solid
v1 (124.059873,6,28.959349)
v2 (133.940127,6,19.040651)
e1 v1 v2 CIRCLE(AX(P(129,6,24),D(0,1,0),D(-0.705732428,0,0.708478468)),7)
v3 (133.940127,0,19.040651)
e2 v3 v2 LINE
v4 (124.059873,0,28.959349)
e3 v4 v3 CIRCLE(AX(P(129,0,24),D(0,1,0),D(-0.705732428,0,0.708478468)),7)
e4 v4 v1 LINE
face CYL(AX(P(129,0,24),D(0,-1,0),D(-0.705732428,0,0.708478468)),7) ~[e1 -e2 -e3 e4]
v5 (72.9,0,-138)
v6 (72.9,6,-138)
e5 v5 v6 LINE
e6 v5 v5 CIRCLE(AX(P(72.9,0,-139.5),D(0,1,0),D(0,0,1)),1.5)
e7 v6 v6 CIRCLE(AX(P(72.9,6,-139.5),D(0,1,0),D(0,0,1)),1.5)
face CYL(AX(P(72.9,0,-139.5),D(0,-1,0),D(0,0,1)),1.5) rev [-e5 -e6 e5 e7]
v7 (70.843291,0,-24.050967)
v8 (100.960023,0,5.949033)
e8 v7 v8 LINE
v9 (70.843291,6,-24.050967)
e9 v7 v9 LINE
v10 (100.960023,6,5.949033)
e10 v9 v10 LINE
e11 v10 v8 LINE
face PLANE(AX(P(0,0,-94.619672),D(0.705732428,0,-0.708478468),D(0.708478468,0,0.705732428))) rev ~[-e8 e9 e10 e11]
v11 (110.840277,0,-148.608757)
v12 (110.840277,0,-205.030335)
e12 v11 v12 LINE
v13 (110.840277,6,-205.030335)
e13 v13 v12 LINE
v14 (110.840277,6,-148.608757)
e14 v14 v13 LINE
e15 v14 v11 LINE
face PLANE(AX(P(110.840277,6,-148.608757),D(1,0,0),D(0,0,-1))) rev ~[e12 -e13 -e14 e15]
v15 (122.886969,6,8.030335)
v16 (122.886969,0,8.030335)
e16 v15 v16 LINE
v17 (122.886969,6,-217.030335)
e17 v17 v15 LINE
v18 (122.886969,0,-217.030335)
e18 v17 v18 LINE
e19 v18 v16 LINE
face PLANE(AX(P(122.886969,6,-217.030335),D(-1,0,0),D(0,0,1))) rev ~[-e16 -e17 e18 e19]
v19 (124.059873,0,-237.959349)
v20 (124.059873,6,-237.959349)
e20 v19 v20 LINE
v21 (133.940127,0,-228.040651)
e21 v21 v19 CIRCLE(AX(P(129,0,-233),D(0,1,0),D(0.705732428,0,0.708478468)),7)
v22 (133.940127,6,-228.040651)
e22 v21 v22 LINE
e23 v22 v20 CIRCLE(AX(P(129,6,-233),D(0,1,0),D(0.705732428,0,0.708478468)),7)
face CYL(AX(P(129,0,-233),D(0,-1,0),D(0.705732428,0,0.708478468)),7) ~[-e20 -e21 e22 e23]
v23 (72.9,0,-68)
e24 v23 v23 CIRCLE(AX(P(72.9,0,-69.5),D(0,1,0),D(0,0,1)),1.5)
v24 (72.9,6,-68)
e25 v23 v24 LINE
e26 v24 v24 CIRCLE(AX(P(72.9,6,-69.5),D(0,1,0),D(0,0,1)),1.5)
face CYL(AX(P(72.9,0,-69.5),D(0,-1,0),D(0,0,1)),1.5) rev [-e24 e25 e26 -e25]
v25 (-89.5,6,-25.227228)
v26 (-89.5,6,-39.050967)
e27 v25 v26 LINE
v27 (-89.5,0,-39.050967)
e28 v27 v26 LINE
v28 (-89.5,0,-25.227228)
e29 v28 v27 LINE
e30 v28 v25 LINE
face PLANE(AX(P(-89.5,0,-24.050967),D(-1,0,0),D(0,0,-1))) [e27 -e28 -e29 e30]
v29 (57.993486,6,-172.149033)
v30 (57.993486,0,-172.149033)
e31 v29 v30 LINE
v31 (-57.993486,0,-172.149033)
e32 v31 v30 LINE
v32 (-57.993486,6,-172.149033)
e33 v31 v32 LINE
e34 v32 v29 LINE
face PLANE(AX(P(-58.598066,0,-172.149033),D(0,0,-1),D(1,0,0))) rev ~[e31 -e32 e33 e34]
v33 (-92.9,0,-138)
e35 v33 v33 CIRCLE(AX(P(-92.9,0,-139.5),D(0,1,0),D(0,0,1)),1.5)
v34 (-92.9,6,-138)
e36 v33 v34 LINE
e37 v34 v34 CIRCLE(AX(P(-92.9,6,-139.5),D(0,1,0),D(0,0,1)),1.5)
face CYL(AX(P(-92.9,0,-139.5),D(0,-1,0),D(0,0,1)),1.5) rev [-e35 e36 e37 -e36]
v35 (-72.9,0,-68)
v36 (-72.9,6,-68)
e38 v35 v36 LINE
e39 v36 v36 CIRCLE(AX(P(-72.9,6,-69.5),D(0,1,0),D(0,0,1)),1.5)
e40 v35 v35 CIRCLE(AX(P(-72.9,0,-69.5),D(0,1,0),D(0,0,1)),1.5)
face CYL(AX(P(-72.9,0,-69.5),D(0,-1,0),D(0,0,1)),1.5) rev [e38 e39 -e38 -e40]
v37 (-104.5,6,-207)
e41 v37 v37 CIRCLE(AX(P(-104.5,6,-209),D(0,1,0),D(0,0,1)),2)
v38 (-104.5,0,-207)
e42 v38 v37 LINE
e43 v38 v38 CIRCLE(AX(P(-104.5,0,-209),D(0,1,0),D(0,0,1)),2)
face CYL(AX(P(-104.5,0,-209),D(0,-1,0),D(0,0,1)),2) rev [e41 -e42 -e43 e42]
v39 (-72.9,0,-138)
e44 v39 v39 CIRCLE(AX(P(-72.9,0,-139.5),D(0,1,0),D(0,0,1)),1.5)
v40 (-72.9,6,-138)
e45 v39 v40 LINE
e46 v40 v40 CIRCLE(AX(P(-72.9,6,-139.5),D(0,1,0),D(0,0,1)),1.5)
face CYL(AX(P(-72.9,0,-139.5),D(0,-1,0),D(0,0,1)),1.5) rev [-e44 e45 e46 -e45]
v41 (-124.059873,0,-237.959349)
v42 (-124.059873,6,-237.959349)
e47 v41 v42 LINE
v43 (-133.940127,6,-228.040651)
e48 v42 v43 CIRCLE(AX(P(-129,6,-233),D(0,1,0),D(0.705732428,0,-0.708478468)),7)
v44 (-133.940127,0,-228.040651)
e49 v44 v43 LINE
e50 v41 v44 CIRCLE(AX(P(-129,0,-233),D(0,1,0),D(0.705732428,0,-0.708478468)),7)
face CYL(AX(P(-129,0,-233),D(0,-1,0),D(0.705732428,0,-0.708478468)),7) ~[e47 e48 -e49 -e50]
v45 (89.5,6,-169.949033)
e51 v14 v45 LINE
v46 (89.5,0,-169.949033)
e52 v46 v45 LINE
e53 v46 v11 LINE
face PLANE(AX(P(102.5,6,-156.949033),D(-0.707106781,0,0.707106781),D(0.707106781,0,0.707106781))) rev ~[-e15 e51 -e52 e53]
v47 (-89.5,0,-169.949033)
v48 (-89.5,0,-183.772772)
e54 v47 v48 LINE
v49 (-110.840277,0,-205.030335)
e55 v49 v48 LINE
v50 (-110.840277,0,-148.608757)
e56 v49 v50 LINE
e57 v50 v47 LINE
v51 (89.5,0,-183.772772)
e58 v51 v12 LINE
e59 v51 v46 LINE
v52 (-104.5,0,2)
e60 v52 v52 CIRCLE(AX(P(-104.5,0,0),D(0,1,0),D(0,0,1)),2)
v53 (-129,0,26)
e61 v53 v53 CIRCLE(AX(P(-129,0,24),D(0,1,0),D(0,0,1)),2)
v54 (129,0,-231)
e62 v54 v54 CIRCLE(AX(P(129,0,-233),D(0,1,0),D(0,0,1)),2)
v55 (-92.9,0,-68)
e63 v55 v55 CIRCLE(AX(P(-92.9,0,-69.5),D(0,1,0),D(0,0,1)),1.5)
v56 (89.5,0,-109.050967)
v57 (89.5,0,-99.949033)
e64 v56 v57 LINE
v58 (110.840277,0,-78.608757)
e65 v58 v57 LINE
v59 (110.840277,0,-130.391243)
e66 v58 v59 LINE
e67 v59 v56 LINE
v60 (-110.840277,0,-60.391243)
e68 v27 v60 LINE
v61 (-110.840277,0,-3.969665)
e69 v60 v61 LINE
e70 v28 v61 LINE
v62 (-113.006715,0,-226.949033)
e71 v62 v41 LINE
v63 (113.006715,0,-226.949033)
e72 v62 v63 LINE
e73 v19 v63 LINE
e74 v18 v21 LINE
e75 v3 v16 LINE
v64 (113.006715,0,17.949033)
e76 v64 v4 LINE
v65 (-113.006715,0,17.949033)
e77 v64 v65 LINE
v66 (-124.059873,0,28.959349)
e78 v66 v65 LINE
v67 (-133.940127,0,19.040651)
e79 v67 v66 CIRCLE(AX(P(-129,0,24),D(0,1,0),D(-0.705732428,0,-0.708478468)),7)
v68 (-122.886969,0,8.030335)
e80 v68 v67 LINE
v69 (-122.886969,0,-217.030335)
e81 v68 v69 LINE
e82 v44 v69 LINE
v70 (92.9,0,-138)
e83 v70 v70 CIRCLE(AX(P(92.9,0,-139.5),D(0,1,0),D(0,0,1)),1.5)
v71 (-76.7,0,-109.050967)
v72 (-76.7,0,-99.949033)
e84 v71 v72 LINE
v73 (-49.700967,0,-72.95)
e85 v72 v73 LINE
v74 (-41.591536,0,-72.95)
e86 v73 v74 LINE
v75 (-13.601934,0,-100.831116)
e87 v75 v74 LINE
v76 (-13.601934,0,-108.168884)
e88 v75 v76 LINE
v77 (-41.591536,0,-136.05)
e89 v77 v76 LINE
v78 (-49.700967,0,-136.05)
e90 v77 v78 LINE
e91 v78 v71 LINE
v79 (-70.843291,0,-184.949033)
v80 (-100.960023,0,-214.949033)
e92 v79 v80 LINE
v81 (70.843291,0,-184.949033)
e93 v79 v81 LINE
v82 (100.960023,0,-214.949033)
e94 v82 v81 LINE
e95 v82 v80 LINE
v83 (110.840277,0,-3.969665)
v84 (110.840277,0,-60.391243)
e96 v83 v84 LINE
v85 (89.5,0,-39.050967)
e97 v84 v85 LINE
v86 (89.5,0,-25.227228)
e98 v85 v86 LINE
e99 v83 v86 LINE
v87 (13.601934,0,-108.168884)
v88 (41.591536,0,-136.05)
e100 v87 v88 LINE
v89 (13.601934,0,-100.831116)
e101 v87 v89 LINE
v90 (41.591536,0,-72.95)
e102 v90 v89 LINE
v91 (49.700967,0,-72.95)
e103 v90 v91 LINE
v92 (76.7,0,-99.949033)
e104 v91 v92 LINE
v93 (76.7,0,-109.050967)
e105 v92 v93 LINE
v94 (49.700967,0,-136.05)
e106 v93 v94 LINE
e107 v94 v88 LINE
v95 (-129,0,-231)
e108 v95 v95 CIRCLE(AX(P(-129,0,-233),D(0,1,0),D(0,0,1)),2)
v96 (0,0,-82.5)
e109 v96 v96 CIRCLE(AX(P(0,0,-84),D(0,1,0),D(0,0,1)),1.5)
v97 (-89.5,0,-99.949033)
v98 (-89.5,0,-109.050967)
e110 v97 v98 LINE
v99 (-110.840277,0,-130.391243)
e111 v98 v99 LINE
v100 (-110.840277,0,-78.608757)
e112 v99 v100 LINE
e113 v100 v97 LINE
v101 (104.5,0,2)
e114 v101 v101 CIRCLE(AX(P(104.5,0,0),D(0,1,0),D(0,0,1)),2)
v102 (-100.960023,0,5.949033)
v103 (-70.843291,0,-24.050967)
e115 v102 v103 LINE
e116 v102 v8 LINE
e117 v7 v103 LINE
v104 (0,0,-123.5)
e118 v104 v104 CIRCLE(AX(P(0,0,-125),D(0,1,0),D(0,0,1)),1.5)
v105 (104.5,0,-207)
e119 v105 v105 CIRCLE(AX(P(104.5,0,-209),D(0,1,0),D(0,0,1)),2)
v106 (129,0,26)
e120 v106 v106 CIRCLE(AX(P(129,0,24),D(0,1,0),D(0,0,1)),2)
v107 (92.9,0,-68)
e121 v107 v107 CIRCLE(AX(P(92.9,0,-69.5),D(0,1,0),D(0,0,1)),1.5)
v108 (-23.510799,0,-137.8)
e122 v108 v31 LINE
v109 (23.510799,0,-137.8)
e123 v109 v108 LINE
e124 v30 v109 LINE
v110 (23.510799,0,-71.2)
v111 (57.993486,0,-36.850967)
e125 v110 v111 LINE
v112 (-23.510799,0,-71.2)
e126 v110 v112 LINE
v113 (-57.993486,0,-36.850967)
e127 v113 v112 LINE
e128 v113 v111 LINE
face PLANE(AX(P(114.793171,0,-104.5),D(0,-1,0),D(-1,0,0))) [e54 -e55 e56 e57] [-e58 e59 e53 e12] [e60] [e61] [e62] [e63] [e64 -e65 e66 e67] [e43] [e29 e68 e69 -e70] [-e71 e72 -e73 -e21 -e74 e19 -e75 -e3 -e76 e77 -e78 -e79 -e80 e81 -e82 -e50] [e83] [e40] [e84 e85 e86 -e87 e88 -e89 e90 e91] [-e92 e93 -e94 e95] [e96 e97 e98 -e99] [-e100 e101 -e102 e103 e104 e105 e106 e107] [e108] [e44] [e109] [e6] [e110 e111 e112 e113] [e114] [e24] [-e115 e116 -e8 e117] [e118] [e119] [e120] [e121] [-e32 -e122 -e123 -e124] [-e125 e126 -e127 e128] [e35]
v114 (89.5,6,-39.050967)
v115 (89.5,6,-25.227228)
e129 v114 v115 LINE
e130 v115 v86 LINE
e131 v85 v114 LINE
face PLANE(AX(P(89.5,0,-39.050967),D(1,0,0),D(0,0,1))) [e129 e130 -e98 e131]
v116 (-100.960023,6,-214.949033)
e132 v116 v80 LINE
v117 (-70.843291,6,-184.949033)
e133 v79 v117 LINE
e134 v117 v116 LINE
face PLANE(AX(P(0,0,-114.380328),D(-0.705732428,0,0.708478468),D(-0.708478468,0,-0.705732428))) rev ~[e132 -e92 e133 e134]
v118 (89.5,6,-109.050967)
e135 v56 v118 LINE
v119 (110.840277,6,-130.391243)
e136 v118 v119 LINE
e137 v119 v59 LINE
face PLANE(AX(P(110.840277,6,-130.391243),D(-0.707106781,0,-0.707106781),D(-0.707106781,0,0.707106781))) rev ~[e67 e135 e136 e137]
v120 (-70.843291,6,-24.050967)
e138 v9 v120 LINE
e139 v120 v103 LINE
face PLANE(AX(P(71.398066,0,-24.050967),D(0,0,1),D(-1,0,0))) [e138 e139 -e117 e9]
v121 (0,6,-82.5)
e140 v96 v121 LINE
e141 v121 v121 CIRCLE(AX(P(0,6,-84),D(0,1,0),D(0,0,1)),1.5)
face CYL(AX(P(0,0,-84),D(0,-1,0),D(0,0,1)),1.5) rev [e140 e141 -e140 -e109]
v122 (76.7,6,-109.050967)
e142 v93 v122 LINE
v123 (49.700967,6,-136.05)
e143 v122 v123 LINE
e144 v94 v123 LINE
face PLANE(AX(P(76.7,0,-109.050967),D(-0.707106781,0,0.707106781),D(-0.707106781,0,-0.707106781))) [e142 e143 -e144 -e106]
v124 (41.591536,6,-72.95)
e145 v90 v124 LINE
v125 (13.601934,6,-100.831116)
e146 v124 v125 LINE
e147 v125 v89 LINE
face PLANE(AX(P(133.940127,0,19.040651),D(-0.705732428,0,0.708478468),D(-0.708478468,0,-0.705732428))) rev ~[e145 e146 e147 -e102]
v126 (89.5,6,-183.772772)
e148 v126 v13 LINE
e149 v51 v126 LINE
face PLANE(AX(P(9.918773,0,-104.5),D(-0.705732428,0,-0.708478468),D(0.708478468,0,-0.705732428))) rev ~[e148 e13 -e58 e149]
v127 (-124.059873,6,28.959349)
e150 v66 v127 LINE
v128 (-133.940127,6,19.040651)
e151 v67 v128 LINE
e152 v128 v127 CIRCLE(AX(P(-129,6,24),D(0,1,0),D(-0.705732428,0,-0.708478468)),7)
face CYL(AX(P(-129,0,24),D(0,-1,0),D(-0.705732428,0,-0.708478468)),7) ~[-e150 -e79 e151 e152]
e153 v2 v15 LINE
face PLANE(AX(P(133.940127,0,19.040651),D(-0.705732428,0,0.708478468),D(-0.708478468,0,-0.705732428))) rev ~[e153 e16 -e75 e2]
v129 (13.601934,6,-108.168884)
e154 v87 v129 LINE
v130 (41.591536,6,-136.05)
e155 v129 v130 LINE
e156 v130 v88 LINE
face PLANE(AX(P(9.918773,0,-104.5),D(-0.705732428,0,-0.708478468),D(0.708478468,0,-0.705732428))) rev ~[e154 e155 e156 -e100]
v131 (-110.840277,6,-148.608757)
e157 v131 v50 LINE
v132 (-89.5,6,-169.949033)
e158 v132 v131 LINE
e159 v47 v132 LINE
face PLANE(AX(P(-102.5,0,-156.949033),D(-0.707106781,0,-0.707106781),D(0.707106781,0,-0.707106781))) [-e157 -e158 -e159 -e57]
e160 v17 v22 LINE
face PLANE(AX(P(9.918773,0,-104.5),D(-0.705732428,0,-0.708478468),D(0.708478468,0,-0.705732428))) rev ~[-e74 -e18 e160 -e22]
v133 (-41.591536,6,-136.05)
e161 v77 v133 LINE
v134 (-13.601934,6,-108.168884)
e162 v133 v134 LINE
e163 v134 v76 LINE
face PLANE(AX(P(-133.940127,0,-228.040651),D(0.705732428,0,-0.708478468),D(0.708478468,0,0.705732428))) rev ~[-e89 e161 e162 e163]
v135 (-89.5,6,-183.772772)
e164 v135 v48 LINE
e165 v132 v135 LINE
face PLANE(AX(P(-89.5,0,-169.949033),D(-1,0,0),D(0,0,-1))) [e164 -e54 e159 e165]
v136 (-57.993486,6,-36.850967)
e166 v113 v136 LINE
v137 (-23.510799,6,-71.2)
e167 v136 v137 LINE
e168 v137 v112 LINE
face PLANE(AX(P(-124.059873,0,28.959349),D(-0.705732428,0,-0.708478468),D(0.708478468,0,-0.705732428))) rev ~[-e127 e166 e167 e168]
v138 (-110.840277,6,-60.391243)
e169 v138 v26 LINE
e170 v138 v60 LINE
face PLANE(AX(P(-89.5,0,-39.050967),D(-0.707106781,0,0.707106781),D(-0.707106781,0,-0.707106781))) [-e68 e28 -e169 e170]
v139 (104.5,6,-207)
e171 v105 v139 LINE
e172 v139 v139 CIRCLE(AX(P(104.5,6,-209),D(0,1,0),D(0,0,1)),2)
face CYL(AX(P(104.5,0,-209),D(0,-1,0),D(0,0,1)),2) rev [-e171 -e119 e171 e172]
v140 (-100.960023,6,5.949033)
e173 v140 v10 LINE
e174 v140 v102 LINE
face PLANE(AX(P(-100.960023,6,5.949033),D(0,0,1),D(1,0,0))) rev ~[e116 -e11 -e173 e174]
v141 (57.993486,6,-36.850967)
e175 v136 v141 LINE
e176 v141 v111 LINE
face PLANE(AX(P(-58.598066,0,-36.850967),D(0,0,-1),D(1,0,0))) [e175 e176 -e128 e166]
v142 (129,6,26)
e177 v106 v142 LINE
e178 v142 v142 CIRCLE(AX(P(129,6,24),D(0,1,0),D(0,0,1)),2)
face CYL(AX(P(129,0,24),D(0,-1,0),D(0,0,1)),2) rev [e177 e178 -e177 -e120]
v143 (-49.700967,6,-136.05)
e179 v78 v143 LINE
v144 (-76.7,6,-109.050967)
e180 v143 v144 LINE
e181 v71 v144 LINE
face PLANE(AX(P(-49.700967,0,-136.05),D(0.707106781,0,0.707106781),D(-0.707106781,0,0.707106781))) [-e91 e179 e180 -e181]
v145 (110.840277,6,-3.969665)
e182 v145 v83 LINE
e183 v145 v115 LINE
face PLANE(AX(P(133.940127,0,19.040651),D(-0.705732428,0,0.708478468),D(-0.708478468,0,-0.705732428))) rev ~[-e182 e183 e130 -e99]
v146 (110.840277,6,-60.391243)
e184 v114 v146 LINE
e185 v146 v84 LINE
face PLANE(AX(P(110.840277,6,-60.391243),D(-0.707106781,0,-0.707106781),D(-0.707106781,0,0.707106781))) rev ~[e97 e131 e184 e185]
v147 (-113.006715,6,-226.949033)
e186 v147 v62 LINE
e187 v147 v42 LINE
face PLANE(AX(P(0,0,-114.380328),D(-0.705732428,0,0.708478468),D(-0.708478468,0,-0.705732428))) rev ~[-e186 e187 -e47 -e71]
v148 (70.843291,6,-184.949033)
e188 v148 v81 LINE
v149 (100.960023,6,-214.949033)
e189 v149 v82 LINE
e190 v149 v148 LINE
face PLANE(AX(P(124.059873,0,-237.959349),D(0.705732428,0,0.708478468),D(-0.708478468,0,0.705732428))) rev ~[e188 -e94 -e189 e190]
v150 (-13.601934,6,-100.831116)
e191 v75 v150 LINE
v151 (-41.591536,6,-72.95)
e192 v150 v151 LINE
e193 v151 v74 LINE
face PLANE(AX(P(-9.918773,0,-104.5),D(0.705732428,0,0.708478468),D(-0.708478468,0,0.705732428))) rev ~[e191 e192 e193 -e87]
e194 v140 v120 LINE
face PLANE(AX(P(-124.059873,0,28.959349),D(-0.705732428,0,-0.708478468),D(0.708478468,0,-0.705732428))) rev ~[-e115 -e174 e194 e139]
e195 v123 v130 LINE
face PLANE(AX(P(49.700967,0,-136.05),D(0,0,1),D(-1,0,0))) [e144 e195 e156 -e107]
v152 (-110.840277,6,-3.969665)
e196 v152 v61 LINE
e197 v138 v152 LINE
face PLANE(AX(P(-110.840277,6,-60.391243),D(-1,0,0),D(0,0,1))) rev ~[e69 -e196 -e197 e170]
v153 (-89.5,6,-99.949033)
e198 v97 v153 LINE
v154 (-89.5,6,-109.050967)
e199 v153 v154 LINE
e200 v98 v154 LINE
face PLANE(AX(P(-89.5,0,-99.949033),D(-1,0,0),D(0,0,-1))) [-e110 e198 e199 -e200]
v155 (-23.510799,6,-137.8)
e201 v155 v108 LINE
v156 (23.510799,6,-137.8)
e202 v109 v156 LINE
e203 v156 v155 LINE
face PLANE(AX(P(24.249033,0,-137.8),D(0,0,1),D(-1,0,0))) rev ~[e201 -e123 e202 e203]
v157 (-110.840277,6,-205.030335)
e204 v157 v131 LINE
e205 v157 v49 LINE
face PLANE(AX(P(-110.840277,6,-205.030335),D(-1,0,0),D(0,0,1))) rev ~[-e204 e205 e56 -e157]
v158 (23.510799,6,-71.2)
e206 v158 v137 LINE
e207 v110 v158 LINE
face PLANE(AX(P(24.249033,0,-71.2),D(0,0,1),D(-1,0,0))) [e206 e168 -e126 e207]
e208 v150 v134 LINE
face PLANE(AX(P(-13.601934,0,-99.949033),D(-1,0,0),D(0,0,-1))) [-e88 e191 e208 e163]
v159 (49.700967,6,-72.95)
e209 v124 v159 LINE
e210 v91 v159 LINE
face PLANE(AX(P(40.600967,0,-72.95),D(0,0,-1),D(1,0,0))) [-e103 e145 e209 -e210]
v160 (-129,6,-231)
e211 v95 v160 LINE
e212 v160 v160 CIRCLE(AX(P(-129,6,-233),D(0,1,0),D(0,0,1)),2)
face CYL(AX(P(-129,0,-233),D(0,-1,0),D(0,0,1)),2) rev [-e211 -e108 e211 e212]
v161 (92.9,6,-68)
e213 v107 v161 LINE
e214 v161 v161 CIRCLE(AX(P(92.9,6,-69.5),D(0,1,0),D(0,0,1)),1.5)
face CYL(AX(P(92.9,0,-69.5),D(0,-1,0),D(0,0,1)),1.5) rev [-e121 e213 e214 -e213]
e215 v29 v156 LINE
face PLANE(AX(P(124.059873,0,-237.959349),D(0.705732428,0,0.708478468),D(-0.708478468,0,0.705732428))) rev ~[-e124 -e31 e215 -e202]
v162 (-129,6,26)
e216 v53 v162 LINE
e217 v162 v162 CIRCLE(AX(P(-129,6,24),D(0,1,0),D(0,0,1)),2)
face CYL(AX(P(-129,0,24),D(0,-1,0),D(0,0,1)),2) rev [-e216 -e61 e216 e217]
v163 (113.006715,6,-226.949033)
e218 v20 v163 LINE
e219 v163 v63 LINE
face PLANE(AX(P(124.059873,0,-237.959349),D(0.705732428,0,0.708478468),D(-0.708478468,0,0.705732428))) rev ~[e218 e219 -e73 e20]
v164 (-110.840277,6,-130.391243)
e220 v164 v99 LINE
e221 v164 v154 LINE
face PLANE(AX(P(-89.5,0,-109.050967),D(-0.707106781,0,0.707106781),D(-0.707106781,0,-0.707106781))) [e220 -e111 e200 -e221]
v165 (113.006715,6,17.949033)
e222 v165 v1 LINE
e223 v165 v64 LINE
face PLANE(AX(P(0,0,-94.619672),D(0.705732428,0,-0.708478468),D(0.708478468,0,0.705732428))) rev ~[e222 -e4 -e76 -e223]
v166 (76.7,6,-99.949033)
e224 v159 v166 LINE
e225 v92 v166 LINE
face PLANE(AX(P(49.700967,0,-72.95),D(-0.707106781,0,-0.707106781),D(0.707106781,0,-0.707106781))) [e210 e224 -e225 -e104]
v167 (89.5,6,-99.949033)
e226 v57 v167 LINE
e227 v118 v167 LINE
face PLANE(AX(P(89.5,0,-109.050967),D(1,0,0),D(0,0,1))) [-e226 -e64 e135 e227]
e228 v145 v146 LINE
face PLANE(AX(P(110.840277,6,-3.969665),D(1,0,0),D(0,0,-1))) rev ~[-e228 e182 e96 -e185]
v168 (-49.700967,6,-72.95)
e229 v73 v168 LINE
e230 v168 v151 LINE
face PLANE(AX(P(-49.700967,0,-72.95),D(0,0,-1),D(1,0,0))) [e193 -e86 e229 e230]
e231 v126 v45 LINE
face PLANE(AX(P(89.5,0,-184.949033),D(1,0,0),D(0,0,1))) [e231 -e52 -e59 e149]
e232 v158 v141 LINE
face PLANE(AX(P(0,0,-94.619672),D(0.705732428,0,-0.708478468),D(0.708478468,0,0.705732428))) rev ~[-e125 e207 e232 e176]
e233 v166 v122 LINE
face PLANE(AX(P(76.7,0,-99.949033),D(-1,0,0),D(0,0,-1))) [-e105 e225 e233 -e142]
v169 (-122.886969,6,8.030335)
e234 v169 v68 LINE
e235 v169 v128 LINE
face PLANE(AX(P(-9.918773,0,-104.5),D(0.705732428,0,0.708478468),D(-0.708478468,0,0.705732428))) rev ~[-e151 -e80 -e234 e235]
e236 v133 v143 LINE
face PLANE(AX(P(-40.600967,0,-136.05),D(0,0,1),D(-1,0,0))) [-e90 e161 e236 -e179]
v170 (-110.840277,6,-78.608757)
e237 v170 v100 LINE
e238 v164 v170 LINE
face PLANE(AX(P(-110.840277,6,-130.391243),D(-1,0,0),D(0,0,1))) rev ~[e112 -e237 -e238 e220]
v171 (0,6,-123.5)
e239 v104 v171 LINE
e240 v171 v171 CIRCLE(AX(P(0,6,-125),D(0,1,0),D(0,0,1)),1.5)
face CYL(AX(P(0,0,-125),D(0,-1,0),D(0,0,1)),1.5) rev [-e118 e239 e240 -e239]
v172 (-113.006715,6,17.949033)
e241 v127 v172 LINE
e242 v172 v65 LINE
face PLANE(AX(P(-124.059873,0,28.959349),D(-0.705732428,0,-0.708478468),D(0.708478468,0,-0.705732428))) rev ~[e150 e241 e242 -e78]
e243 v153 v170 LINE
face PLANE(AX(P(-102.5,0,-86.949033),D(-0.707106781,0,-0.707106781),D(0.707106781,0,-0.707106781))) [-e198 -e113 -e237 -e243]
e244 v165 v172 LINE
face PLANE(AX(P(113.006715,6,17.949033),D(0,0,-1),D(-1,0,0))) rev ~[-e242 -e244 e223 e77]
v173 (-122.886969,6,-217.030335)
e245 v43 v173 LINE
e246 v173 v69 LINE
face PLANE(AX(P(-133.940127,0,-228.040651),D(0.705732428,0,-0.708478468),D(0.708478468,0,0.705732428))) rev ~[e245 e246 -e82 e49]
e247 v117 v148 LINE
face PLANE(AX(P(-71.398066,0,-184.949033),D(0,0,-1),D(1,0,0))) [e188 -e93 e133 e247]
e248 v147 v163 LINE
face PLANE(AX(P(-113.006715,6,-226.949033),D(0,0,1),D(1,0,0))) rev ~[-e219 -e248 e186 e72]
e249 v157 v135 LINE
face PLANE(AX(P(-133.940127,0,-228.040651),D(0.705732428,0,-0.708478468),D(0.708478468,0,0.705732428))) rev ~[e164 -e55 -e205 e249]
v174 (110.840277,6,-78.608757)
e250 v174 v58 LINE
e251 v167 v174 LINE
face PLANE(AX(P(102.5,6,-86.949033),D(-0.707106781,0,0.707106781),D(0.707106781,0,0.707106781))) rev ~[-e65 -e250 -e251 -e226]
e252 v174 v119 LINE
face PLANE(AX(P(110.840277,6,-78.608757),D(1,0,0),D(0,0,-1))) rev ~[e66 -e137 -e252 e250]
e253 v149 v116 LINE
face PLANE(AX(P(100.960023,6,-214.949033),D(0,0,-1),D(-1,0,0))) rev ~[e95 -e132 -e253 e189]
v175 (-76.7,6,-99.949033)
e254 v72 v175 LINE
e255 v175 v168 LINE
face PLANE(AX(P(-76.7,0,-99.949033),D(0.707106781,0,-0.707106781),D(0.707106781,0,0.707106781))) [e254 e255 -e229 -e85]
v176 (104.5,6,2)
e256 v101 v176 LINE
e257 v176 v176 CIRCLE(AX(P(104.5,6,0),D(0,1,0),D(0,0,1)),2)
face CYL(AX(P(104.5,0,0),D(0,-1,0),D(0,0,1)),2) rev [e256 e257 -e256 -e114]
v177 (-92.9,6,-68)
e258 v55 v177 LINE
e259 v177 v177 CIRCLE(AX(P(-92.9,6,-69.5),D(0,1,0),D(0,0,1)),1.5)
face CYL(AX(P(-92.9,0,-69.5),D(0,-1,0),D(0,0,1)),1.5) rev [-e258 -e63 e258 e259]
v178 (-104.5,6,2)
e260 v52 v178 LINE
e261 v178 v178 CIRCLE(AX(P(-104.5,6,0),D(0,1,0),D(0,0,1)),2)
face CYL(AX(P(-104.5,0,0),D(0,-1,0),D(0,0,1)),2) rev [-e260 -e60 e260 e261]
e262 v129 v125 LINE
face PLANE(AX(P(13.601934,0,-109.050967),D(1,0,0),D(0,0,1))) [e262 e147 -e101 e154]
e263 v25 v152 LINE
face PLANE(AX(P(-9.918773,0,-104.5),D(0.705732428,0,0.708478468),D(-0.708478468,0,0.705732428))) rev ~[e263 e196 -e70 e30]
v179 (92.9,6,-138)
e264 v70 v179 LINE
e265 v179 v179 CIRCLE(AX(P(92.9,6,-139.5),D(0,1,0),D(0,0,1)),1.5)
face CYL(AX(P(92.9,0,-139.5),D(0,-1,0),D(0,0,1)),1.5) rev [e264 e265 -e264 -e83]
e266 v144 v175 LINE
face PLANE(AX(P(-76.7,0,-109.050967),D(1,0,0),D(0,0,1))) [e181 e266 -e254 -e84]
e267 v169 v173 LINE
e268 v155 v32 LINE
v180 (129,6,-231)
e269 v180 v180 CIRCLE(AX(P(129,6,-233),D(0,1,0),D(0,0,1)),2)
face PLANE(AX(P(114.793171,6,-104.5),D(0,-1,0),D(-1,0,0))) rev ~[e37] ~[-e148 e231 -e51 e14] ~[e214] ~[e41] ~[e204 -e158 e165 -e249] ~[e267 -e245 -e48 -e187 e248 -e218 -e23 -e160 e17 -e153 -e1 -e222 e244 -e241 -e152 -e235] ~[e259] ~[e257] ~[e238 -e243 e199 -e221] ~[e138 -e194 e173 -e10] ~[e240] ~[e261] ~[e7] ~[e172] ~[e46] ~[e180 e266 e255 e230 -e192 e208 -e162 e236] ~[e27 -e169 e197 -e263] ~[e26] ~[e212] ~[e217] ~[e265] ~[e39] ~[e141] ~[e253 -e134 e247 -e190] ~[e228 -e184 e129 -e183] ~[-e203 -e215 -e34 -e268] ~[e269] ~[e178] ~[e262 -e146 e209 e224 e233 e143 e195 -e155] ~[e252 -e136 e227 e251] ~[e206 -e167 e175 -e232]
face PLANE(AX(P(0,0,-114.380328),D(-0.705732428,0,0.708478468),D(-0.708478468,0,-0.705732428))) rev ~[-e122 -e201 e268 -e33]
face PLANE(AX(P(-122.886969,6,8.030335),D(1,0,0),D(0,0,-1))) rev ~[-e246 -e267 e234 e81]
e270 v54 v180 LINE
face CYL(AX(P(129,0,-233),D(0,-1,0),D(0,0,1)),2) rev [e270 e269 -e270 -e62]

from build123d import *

# Parameters (mm, degrees)
ESBO_O1_R                = 2
ESBO_O1_R_2              = 1.5
RESSALTO_EXTRUS_O1_DEPTH = 6
RESSALTO_EXTRUS_O2_START = -6
ESBO_O2_R                = 2
RESSALTO_EXTRUS_O2_DEPTH = 6
RESSALTO_EXTRUS_O4_DEPTH = 6


with BuildPart() as part:
    # Esboço1 → Ressalto-extrusão1 (new body)
    with BuildSketch(Plane(origin=(0, 0, 0), x_dir=(1, 0, 0), z_dir=(0, 1, 0))):
        with BuildLine():
            Line((99.9745166, -4.5254834), (71.398066402, 24.050966799))
            Line((71.398066402, 24.050966799), (-71.398066402, 24.050966799))
            Line((-71.398066402, 24.050966799), (-99.9745166, -4.5254834))
            ThreePointArc((-99.9745166, -4.5254834), (-109.0254834, -4.5254834), (-109.0254834, 4.5254834))
            Line((-109.0254834, 4.5254834), (-89.5, 24.050966799))
            Line((-89.5, 24.050966799), (-89.5, 39.050966799))
            Line((-89.5, 39.050966799), (-102.5, 52.050966799))
            Line((-102.5, 52.050966799), (-102.5, 86.949033201))
            Line((-102.5, 86.949033201), (-89.5, 99.949033201))
            Line((-89.5, 99.949033201), (-89.5, 109.050966799))
            Line((-89.5, 109.050966799), (-102.5, 122.050966799))
            Line((-102.5, 122.050966799), (-102.5, 156.949033201))
            Line((-102.5, 156.949033201), (-89.5, 169.949033201))
            Line((-89.5, 169.949033201), (-89.5, 184.949033201))
            Line((-89.5, 184.949033201), (-109.0254834, 204.4745166))
            ThreePointArc((-109.0254834, 204.4745166), (-109.0254834, 213.5254834), (-99.9745166, 213.5254834))
            Line((-99.9745166, 213.5254834), (-71.398066402, 184.949033201))
            Line((-71.398066402, 184.949033201), (71.398066402, 184.949033201))
            Line((71.398066402, 184.949033201), (99.9745166, 213.5254834))
            ThreePointArc((99.9745166, 213.5254834), (109.0254834, 213.5254834), (109.0254834, 204.4745166))
            Line((109.0254834, 204.4745166), (89.5, 184.949033201))
            Line((89.5, 184.949033201), (89.5, 169.949033201))
            Line((89.5, 169.949033201), (102.5, 156.949033201))
            Line((102.5, 156.949033201), (102.5, 122.050966799))
            Line((102.5, 122.050966799), (89.5, 109.050966799))
            Line((89.5, 109.050966799), (89.5, 99.949033201))
            Line((89.5, 99.949033201), (102.5, 86.949033201))
            Line((102.5, 86.949033201), (102.5, 52.050966799))
            Line((102.5, 52.050966799), (89.5, 39.050966799))
            Line((89.5, 39.050966799), (89.5, 24.050966799))
            Line((89.5, 24.050966799), (109.0254834, 4.5254834))
            ThreePointArc((109.0254834, 4.5254834), (109.0254834, -4.5254834), (99.9745166, -4.5254834))
        make_face()
        with Locations(Location((104.5, 209, 0), (0, 0, 270))):
            Circle(ESBO_O1_R, mode=Mode.SUBTRACT)
        with Locations(Location((104.5, 0, 0), (0, 0, 270))):
            Circle(ESBO_O1_R, mode=Mode.SUBTRACT)
        with Locations(Location((0, 125, 0), (0, 0, 270))):
            Circle(ESBO_O1_R_2, mode=Mode.SUBTRACT)
        with Locations(Location((0, 84, 0), (0, 0, 270))):
            Circle(ESBO_O1_R_2, mode=Mode.SUBTRACT)
        with Locations(Location((72.9, 139.5, 0), (0, 0, 270))):
            Circle(ESBO_O1_R_2, mode=Mode.SUBTRACT)
        with Locations(Location((92.9, 139.5, 0), (0, 0, 270))):
            Circle(ESBO_O1_R_2, mode=Mode.SUBTRACT)
        with Locations(Location((72.9, 69.5, 0), (0, 0, 270))):
            Circle(ESBO_O1_R_2, mode=Mode.SUBTRACT)
        with Locations(Location((92.9, 69.5, 0), (0, 0, 270))):
            Circle(ESBO_O1_R_2, mode=Mode.SUBTRACT)
        with Locations(Location((-92.9, 69.5, 0), (0, 0, 270))):
            Circle(ESBO_O1_R_2, mode=Mode.SUBTRACT)
        with Locations(Location((-72.9, 69.5, 0), (0, 0, 270))):
            Circle(ESBO_O1_R_2, mode=Mode.SUBTRACT)
        with Locations(Location((-92.9, 139.5, 0), (0, 0, 270))):
            Circle(ESBO_O1_R_2, mode=Mode.SUBTRACT)
        with Locations(Location((-72.9, 139.5, 0), (0, 0, 270))):
            Circle(ESBO_O1_R_2, mode=Mode.SUBTRACT)
        with Locations(Location((-104.5, 0, 0), (0, 0, 270))):
            Circle(ESBO_O1_R, mode=Mode.SUBTRACT)
        with Locations(Location((-104.5, 209, 0), (0, 0, 270))):
            Circle(ESBO_O1_R, mode=Mode.SUBTRACT)
        Polygon((-58.598066402, 172.149033201), (58.598066402, 172.149033201), (24.249033201, 137.8), (-24.249033201, 137.8), align=None, mode=Mode.SUBTRACT)
        Polygon((40.600966799, 136.05), (13.601933598, 109.050966799), (13.601933598, 99.949033201), (40.600966799, 72.95), (49.700966799, 72.95), (76.7, 99.949033201), (76.7, 109.050966799), (49.700966799, 136.05), align=None, mode=Mode.SUBTRACT)
        Polygon((-58.598066402, 36.850966799), (58.598066402, 36.850966799), (24.249033201, 71.2), (-24.249033201, 71.2), align=None, mode=Mode.SUBTRACT)
        Polygon((-40.600966799, 72.95), (-13.601933598, 99.949033201), (-13.601933598, 109.050966799), (-40.600966799, 136.05), (-49.700966799, 136.05), (-76.7, 109.050966799), (-76.7, 99.949033201), (-49.700966799, 72.95), align=None, mode=Mode.SUBTRACT)
    extrude(amount=RESSALTO_EXTRUS_O1_DEPTH)

    # Esboço2 → Ressalto-extrusão2 (add)
    with BuildSketch(Plane(origin=(0, 6, 0), x_dir=(1, 0, 0), z_dir=(0, 1, 0)).offset(RESSALTO_EXTRUS_O2_START)):
        with BuildLine():
            Line((-133.940126995, 228.040650721), (-9.918773353, 104.5))
            Line((-9.918773353, 104.5), (-133.940126995, -19.040650721))
            ThreePointArc((-133.940126995, -19.040650721), (-133.959349279, -28.940126995), (-124.059873005, -28.959349279))
            Line((-124.059873005, -28.959349279), (0, 94.619671505))
            Line((0, 94.619671505), (124.059873005, -28.959349279))
            ThreePointArc((124.059873005, -28.959349279), (133.959349279, -28.940126995), (133.940126995, -19.040650721))
            Line((133.940126995, -19.040650721), (9.918773353, 104.5))
            Line((9.918773353, 104.5), (133.940126995, 228.040650721))
            ThreePointArc((133.940126995, 228.040650721), (133.959349279, 237.940126995), (124.059873005, 237.959349279))
            Line((124.059873005, 237.959349279), (0, 114.380328495))
            Line((0, 114.380328495), (-124.059873005, 237.959349279))
            ThreePointArc((-124.059873005, 237.959349279), (-133.959349279, 237.940126995), (-133.940126995, 228.040650721))
        make_face()
        with Locations(Location((-129, 233, 0), (0, 0, 270))):
            Circle(ESBO_O2_R, mode=Mode.SUBTRACT)
        with Locations(Location((129, 233, 0), (0, 0, 270))):
            Circle(ESBO_O2_R, mode=Mode.SUBTRACT)
        with Locations(Location((129, -24, 0), (0, 0, 270))):
            Circle(ESBO_O2_R, mode=Mode.SUBTRACT)
        with Locations(Location((-129, -24, 0), (0, 0, 270))):
            Circle(ESBO_O2_R, mode=Mode.SUBTRACT)
        with Locations(Location((104.5, 0, 0), (0, 0, 270))):
            Circle(ESBO_O2_R, mode=Mode.SUBTRACT)
        with Locations(Location((-104.5, 0, 0), (0, 0, 270))):
            Circle(ESBO_O2_R, mode=Mode.SUBTRACT)
        with Locations(Location((104.5, 209, 0), (0, 0, 270))):
            Circle(ESBO_O2_R, mode=Mode.SUBTRACT)
        with Locations(Location((-104.5, 209, 0), (0, 0, 270))):
            Circle(ESBO_O2_R, mode=Mode.SUBTRACT)
    extrude(amount=RESSALTO_EXTRUS_O2_DEPTH)

    # Esboço4 → Ressalto-extrusão4 (add)
    with BuildSketch(Plane(origin=(0, 6, 0), x_dir=(1, 0, 0), z_dir=(0, 1, 0))):
        Polygon((102.5, 86.949033201), (110.840276613, 78.608756588), (110.840276613, 130.391243412), (102.5, 122.050966799), (102.5, 156.949033201), (110.840276613, 148.608756588), (110.840276613, 205.030334643), (122.88696922, 217.030334643), (122.88696922, -8.030334643), (110.840276613, 3.969665357), (110.840276613, 60.391243412), (102.5, 52.050966799), align=None)
        Polygon((-113.00671523, 226.949033201), (113.00671523, 226.949033201), (100.960022623, 214.949033201), (-100.960022623, 214.949033201), align=None)
        Polygon((-110.840276613, 130.391243412), (-110.840276613, 78.608756588), (-102.5, 86.949033201), (-102.5, 52.050966799), (-110.840276613, 60.391243412), (-110.840276613, 3.969665357), (-122.88696922, -8.030334643), (-122.88696922, 217.030334643), (-110.840276613, 205.030334643), (-110.840276613, 148.608756588), (-102.5, 156.949033201), (-102.5, 122.050966799), align=None)
        Polygon((-100.960022623, -5.949033201), (100.960022623, -5.949033201), (113.00671523, -17.949033201), (-113.00671523, -17.949033201), align=None)
    extrude(amount=-RESSALTO_EXTRUS_O4_DEPTH)


solid = part.part
